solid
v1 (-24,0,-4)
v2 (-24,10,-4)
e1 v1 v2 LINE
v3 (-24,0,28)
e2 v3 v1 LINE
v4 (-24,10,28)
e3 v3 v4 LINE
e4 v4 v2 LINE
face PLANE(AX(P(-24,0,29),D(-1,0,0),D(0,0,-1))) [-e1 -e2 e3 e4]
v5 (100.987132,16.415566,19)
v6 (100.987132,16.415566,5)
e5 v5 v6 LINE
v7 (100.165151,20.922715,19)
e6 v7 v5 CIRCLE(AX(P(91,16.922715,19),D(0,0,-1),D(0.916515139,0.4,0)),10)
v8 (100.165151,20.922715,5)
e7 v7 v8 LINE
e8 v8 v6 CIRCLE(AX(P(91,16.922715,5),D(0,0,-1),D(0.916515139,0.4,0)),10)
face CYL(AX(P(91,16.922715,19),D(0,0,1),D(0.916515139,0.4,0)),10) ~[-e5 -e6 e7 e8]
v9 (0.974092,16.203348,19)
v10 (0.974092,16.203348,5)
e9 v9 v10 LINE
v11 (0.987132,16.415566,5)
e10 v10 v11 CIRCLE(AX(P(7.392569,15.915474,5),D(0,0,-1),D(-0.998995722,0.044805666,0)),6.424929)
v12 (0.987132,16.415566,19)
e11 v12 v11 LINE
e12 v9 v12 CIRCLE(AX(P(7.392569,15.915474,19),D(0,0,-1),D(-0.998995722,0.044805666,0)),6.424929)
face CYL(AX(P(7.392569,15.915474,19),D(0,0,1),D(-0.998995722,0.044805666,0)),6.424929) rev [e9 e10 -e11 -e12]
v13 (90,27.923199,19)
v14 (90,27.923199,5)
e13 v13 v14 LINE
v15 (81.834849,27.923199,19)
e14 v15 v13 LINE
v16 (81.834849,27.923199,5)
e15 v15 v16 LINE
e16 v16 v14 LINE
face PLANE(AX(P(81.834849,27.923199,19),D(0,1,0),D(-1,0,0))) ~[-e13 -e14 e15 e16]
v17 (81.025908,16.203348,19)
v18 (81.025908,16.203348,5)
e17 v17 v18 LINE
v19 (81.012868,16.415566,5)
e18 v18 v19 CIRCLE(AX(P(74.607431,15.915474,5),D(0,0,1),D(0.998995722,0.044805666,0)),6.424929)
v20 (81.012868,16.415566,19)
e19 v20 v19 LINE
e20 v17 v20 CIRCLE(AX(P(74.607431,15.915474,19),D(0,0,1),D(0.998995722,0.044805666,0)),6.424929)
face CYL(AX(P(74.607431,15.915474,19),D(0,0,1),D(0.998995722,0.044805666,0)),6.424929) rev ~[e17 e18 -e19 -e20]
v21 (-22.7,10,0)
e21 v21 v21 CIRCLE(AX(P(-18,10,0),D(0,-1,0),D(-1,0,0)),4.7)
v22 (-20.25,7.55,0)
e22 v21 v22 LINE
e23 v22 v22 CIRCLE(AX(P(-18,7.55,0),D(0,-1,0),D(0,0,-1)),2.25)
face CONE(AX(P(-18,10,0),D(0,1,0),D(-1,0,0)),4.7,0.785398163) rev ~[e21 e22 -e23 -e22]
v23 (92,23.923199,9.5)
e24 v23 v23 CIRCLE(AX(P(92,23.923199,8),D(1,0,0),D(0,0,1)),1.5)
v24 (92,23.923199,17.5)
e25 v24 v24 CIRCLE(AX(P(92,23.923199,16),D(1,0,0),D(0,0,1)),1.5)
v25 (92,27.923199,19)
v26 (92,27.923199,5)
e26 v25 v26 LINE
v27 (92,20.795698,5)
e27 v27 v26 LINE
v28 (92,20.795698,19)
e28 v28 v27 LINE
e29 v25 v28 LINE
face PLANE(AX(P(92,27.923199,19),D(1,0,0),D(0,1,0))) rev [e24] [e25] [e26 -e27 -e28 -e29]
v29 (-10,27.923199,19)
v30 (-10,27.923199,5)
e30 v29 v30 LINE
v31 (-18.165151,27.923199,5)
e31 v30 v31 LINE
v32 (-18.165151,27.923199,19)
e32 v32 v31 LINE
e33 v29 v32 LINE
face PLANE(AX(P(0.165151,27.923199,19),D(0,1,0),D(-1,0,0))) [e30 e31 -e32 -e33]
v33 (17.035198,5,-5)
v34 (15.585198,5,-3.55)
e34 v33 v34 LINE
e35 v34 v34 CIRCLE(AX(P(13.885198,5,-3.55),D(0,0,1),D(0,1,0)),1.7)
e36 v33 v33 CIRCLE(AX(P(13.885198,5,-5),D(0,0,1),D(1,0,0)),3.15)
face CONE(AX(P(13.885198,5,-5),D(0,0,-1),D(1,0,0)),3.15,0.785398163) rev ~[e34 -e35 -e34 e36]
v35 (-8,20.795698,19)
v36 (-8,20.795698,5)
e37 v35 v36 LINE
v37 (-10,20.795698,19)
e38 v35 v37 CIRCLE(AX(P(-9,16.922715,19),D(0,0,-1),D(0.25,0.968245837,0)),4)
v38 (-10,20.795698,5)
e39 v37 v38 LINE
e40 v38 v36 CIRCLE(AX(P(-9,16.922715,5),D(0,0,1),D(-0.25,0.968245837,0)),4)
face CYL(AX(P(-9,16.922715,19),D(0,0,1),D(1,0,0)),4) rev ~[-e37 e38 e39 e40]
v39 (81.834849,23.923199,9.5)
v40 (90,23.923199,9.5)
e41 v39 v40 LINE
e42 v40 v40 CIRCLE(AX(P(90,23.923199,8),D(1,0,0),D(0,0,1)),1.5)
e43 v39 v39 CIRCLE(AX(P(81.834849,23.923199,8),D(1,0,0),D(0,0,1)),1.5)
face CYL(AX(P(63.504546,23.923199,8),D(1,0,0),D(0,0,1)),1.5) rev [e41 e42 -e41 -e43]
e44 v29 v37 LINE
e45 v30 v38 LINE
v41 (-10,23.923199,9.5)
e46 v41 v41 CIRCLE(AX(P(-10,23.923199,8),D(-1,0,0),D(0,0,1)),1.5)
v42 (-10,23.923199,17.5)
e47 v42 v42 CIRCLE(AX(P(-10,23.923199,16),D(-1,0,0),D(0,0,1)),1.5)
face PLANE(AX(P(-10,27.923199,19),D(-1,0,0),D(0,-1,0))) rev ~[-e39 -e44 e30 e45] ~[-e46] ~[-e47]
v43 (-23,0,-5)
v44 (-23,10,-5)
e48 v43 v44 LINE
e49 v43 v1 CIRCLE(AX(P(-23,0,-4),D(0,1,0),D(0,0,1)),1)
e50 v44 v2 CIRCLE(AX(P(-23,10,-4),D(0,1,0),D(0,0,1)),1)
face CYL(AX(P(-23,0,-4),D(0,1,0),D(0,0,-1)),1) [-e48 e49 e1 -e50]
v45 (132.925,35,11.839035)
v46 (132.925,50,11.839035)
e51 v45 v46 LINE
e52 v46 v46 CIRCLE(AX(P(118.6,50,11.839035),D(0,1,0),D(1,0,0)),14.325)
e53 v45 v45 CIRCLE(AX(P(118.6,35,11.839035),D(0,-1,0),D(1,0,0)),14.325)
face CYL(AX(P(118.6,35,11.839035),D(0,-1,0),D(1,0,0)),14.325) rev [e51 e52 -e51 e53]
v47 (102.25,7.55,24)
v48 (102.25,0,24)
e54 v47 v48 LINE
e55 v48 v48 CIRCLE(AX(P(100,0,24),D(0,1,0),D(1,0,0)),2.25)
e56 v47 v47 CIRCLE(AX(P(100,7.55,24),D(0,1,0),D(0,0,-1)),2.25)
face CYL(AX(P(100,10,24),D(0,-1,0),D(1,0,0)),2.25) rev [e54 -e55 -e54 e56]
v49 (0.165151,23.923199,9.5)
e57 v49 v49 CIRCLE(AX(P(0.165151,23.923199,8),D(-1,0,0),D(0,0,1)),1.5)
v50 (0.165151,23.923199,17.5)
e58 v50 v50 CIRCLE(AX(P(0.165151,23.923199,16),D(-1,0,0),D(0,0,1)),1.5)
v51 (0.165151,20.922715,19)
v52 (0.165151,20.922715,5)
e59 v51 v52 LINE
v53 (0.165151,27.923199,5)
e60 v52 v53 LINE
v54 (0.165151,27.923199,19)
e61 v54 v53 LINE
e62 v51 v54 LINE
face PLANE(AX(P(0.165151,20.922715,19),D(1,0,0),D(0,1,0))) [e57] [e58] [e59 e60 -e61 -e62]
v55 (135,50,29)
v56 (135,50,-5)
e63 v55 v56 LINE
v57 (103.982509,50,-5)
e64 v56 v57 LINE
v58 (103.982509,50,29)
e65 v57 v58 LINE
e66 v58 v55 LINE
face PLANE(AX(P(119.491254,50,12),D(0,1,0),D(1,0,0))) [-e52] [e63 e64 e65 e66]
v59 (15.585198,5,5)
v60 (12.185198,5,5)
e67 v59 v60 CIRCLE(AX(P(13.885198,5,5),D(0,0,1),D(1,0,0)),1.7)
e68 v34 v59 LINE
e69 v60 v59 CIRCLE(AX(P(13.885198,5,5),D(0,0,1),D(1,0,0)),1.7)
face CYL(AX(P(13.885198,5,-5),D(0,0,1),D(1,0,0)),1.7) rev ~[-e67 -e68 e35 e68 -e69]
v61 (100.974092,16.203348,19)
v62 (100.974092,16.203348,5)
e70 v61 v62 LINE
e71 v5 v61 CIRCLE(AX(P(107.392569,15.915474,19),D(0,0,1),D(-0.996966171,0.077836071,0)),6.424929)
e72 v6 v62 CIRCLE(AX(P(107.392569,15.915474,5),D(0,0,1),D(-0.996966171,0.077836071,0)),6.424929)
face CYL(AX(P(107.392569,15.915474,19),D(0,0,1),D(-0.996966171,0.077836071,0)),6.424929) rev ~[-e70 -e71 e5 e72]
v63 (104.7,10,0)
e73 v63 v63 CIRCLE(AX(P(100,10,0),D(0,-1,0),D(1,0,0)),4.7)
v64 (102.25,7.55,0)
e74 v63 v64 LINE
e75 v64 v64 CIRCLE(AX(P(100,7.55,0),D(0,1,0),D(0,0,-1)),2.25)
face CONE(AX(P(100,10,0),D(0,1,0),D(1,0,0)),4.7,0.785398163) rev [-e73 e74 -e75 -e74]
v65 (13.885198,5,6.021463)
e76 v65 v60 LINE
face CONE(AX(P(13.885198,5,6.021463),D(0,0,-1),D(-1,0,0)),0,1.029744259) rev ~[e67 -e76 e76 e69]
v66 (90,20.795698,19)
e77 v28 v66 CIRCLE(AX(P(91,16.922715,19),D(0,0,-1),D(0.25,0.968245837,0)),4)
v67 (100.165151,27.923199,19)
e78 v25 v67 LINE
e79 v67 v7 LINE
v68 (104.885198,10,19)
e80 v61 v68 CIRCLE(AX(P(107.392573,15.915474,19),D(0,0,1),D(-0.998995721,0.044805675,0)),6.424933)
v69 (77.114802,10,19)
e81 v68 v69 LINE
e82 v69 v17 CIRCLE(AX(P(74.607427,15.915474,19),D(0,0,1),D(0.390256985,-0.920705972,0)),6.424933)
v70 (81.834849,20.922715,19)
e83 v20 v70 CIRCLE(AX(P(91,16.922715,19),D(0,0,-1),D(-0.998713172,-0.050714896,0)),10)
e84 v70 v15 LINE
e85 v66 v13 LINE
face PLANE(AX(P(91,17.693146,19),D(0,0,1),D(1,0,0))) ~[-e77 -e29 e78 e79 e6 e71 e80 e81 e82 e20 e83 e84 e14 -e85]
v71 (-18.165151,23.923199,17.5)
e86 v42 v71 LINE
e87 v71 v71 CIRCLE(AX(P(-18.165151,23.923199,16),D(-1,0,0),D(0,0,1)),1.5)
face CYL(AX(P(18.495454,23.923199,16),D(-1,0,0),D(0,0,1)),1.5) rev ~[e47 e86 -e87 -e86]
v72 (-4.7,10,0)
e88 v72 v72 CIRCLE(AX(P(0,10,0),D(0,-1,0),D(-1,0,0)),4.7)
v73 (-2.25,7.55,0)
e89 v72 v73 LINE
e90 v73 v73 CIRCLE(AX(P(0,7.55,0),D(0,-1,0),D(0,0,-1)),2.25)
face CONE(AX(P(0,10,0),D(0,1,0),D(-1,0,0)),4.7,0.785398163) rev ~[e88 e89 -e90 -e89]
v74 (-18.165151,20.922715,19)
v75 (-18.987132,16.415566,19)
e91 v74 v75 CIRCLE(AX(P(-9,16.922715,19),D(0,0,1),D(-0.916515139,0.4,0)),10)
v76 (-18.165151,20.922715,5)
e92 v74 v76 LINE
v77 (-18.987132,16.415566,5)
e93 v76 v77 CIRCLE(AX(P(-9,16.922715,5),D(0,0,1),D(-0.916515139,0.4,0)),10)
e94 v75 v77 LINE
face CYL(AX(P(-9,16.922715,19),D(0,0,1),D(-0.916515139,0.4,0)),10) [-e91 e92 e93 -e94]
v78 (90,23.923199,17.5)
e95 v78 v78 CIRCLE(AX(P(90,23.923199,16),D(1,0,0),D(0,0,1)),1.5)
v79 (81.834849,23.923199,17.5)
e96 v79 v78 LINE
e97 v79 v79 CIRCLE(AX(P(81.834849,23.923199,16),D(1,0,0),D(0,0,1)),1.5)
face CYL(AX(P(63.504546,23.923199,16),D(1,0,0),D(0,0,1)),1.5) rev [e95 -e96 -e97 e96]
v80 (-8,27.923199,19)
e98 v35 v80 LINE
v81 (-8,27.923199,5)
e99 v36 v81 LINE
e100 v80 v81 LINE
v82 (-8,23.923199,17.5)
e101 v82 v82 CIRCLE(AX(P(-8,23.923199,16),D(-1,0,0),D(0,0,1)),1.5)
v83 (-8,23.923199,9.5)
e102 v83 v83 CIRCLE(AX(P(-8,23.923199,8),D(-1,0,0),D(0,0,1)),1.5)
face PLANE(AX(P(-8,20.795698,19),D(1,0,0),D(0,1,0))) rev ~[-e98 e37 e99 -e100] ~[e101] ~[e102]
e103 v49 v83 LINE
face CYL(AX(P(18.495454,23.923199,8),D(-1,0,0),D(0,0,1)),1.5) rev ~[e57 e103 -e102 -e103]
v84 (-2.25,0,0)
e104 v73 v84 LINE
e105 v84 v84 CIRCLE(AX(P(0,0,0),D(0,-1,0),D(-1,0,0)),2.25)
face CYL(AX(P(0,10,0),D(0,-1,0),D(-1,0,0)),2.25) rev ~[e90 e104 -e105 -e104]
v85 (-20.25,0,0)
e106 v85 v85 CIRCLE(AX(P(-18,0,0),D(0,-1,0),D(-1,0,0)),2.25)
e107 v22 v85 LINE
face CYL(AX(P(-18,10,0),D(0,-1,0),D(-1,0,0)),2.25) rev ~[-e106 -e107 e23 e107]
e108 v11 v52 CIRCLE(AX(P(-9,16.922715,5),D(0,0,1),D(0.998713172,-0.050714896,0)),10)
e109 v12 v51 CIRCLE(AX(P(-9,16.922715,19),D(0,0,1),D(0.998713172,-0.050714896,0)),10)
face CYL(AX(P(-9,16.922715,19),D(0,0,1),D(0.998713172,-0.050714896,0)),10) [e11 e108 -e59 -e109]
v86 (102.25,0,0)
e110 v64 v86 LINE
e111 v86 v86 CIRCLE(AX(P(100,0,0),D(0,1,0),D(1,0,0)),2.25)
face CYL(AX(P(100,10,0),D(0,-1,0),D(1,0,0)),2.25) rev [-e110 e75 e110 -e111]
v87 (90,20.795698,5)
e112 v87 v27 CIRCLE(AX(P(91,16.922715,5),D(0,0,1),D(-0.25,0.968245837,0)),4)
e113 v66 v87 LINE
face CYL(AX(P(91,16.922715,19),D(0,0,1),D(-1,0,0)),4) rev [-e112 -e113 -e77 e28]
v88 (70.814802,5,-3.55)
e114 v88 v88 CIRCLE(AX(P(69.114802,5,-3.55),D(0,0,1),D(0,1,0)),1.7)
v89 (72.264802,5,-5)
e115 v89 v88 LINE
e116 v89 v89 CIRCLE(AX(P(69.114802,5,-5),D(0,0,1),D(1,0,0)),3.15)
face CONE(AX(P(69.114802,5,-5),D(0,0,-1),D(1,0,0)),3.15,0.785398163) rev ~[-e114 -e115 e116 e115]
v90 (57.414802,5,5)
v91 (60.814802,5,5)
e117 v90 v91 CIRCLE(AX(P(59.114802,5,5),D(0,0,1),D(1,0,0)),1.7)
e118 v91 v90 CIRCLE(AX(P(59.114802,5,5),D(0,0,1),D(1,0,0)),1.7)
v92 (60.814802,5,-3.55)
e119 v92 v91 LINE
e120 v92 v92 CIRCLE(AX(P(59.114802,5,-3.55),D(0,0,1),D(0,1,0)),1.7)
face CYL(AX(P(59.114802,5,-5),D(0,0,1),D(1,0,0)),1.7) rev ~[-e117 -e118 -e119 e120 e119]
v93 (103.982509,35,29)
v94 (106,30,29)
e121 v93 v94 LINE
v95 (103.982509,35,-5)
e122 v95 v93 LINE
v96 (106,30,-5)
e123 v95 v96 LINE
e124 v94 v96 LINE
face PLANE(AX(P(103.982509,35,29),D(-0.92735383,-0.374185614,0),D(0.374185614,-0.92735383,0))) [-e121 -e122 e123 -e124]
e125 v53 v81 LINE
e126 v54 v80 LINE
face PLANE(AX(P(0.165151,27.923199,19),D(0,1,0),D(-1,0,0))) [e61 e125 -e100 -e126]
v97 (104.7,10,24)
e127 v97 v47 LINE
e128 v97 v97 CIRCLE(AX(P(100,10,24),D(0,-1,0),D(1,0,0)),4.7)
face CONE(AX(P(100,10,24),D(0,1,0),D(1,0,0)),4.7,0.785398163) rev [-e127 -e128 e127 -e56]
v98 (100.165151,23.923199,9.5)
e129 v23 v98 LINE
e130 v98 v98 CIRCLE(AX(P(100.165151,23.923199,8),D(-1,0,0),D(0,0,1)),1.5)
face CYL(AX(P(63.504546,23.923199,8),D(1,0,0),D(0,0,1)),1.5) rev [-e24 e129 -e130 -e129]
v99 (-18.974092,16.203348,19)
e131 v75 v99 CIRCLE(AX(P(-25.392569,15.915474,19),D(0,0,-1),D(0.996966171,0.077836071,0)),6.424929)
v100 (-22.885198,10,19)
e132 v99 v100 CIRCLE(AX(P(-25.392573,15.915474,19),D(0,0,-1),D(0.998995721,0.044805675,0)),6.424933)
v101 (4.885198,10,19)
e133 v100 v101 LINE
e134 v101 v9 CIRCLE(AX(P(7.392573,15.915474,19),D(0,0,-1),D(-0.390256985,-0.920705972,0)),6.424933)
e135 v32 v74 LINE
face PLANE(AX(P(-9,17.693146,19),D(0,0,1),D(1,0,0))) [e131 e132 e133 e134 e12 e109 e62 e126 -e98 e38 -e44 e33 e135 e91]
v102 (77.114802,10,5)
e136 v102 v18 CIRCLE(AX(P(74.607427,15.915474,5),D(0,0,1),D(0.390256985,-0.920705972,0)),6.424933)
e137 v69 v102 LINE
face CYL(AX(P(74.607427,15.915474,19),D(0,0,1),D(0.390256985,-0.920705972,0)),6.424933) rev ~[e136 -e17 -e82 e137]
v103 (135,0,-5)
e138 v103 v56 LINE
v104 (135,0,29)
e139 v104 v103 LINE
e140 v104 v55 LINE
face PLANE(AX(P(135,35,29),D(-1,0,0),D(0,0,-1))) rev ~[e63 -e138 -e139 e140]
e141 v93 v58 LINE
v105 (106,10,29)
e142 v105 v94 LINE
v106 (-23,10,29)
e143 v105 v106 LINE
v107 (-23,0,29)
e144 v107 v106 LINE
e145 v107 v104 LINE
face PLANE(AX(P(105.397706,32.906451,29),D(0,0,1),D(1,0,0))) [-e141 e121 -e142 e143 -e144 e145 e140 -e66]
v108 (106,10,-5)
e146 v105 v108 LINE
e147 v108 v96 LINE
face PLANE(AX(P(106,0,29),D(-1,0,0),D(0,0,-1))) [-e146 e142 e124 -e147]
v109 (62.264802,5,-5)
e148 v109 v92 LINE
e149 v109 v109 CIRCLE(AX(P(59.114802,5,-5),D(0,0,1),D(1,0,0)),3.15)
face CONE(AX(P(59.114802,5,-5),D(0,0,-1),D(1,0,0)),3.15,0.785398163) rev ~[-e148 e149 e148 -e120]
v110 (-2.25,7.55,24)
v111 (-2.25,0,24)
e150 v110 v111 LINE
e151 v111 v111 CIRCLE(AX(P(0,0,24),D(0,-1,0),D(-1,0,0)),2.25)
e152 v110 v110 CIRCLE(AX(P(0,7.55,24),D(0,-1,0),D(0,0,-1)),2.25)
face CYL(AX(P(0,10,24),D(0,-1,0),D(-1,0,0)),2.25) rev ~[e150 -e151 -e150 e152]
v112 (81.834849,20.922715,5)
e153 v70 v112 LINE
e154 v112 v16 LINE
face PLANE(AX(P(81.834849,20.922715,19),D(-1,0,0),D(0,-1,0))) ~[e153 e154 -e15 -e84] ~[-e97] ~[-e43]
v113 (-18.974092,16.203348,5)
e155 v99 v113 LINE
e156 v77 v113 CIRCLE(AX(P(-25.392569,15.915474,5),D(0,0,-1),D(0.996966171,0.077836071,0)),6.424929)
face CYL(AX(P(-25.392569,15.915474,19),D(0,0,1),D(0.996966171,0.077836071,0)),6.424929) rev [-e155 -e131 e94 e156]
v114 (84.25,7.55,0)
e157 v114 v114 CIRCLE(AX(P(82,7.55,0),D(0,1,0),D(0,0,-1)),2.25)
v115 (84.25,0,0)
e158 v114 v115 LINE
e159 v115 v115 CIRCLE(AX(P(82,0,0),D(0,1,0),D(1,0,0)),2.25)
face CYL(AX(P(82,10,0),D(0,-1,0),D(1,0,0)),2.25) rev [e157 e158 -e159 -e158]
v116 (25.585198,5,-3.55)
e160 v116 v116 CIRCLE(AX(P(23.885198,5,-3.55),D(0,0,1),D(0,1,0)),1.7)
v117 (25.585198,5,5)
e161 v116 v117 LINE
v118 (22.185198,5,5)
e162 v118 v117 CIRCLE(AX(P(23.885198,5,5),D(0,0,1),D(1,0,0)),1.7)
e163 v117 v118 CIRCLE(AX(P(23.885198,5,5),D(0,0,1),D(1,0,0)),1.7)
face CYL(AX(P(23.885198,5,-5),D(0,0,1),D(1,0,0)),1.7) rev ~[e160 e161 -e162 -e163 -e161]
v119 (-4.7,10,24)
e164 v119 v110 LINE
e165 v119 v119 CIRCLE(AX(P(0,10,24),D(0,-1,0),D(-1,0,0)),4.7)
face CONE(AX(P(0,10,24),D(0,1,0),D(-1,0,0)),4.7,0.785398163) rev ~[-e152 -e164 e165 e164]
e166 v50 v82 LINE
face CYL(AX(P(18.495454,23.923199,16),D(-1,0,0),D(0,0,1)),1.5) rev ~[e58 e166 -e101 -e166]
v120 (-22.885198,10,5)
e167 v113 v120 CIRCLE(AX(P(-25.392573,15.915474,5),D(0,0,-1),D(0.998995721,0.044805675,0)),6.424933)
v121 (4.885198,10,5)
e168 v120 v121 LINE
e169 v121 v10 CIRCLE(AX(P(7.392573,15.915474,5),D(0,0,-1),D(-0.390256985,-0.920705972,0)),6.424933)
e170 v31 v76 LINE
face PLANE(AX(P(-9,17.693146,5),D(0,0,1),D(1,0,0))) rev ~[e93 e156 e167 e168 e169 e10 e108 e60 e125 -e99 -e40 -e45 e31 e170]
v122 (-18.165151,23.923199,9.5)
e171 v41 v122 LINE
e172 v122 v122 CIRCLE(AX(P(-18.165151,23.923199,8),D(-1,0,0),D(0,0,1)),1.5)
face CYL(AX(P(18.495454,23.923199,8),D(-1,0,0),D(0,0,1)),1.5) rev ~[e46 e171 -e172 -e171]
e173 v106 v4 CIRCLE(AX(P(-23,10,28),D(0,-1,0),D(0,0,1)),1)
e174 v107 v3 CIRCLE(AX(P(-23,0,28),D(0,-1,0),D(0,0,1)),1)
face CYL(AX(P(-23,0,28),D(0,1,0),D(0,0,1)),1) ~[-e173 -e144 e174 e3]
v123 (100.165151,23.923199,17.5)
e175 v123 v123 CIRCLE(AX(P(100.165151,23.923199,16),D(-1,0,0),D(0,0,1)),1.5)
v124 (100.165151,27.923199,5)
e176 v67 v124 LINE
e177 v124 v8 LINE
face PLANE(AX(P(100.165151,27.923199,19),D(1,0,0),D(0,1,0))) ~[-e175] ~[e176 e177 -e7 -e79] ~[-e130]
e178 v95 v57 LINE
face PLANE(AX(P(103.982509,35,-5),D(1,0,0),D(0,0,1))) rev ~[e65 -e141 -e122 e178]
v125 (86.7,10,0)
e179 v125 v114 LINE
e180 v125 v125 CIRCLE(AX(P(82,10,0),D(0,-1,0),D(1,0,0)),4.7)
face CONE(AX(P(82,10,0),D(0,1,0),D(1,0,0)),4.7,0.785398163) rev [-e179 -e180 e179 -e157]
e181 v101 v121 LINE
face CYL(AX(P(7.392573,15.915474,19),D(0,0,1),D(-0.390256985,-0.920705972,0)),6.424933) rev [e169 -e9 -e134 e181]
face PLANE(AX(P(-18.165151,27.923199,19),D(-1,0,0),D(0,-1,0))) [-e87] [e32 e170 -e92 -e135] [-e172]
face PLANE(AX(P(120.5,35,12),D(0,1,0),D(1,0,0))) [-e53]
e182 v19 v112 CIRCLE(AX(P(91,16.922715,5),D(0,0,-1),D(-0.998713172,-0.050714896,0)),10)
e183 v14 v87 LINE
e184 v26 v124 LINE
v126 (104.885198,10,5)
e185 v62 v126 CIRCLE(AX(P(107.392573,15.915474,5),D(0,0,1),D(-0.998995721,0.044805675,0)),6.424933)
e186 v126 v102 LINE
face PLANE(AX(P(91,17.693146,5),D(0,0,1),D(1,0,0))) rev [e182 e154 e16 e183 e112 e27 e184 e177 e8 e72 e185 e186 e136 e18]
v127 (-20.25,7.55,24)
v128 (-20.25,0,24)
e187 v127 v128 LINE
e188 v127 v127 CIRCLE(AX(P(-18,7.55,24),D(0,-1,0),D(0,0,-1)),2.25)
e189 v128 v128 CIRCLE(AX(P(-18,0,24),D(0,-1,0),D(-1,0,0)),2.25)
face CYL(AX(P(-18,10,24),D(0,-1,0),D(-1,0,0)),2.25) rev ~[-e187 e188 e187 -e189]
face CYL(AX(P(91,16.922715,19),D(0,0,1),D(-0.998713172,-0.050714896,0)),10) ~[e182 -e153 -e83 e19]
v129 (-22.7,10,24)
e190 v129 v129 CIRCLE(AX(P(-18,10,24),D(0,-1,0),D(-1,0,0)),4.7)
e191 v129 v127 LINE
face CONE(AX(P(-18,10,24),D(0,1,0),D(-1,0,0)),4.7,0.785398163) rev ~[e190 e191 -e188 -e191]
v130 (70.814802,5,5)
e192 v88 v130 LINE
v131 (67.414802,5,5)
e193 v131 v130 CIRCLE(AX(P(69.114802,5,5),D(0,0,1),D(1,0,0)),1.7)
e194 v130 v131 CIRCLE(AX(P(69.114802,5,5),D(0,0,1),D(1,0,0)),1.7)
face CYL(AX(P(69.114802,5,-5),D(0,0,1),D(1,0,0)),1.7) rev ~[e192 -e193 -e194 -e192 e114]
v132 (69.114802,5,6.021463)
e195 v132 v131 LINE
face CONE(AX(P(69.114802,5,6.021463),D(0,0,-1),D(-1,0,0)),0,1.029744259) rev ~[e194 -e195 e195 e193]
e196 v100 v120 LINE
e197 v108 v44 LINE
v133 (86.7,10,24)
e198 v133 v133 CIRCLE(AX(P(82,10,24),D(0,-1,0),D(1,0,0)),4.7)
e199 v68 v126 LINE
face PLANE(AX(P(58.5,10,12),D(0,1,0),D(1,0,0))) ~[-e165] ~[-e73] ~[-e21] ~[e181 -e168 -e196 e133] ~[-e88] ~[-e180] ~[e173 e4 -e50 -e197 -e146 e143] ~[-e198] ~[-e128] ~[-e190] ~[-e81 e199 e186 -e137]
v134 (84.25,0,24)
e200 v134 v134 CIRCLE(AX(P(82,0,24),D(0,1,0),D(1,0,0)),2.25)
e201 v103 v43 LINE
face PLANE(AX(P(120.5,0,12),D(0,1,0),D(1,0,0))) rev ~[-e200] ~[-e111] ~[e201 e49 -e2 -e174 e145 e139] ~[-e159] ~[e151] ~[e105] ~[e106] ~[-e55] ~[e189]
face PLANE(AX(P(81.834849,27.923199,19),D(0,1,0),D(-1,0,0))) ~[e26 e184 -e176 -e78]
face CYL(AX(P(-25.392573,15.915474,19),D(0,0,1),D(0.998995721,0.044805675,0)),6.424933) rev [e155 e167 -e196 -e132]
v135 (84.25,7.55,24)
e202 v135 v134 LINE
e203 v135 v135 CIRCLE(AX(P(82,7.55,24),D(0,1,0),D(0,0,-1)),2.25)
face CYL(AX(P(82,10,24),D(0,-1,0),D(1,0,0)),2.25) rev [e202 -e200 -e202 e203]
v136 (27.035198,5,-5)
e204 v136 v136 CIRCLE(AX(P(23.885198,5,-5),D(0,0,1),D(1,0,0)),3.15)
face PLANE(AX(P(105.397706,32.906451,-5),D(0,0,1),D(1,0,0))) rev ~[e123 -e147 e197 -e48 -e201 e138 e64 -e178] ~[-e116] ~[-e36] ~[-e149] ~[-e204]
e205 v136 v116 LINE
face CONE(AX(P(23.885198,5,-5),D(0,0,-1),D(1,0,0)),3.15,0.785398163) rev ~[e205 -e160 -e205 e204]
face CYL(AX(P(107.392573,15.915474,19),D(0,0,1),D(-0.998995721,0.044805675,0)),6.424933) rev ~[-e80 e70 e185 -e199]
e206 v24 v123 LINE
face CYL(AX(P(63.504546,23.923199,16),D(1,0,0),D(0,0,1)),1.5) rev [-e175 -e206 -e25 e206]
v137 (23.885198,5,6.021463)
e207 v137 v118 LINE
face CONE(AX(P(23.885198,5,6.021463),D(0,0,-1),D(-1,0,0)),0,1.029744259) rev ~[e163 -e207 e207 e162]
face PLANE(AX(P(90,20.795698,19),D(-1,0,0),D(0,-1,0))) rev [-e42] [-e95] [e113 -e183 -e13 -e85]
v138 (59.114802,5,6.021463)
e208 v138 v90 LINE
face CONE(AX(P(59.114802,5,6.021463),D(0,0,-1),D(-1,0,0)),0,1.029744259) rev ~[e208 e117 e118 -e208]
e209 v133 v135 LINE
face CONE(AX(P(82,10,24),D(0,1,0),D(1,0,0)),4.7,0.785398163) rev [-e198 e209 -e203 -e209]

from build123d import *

# Parameters (mm, degrees)
SKETCH2_W                                       = 35
SKETCH2_H                                       = 34
SKETCH2_W_2                                     = 30
SKETCH2_R                                       = 2
BOSS_EXTRUDE1_DEPTH                             = 10
FILLET1_R                                       = 1
CSK_FOR_M4_FLAT_HEAD_MACHINE_SCREW1_D           = 4.5
CSK_FOR_M4_FLAT_HEAD_MACHINE_SCREW1_DEPTH       = 10
CSK_FOR_M4_FLAT_HEAD_MACHINE_SCREW1_CSINK_D     = 9.4
CSK_FOR_M4_FLAT_HEAD_MACHINE_SCREW1_CSINK_ANGLE = 90
SKETCH3_R                                       = 4
BOSS_EXTRUDE2_DEPTH                             = 14
F_3_0MM_DOWEL_HOLE1_D                           = 3
F_3_0MM_DOWEL_HOLE1_DEPTH                       = 18.33030278
CUT_EXTRUDE1_DEPTH                              = 25
CSK_FOR_M3_FLAT_HEAD_MACHINE_SCREW1_D           = 3.4
CSK_FOR_M3_FLAT_HEAD_MACHINE_SCREW1_DEPTH       = 10
CSK_FOR_M3_FLAT_HEAD_MACHINE_SCREW1_CSINK_D     = 6.3
CSK_FOR_M3_FLAT_HEAD_MACHINE_SCREW1_CSINK_ANGLE = 90
CSK_FOR_M3_FLAT_HEAD_MACHINE_SCREW1_TIP         = 1.021463052
SKETCH15_W                                      = 29
SKETCH15_H                                      = 34
BOSS_EXTRUDE3_DEPTH                             = 35
SKETCH16_R                                      = 14.325
BOSS_EXTRUDE4_DEPTH                             = 15
BOSS_EXTRUDE5_DEPTH                             = 34


with BuildPart() as part:
    # Sketch2 → Boss-Extrude1 (new body)
    with BuildSketch(Plane(origin=(0, 0, 0), x_dir=(1, 0, 0), z_dir=(0, 1, 0))):
        with Locations((23.5, -12)):
            Rectangle(SKETCH2_W, SKETCH2_H)
        with Locations((-9, -12)):
            Rectangle(SKETCH2_W_2, SKETCH2_H)
        with Locations((0, -24)):
            Circle(SKETCH2_R, mode=Mode.SUBTRACT)
        with Locations((-18, -24)):
            Circle(SKETCH2_R, mode=Mode.SUBTRACT)
        with Locations((-18, 0)):
            Circle(SKETCH2_R, mode=Mode.SUBTRACT)
        Circle(SKETCH2_R, mode=Mode.SUBTRACT)
    boss_extrude1 = extrude(amount=BOSS_EXTRUDE1_DEPTH)

    # Fillet1
    fillet1_edges = [part.edges().sort_by_distance(p)[0] for p in [
        (-24, 5, 29),
        (-24, 5, -5),
    ]]
    fillet(fillet1_edges, radius=FILLET1_R)

    # CSK for M4 Flat Head Machine Screw1
    with Locations(Plane(origin=(0, 10, 0), x_dir=(1, 0, 0), z_dir=(0, 1, 0))):
        with Locations((-18, 0), (0, 0), (0, -24), (-18, -24)):
            csk_for_m4_flat_head_machine_screw1 = CounterSinkHole(CSK_FOR_M4_FLAT_HEAD_MACHINE_SCREW1_D / 2, CSK_FOR_M4_FLAT_HEAD_MACHINE_SCREW1_CSINK_D / 2, depth=CSK_FOR_M4_FLAT_HEAD_MACHINE_SCREW1_DEPTH, counter_sink_angle=CSK_FOR_M4_FLAT_HEAD_MACHINE_SCREW1_CSINK_ANGLE)

    # Sketch3 → Boss-Extrude2 (add)
    with BuildSketch(Plane.XY.offset(19)):
        with BuildLine():
            ThreePointArc((-18.974091996, 16.203347698), (-19.957675635, 12.488863747), (-22.885197632, 10))
            Line((-22.885197632, 10), (4.885197632, 10))
            ThreePointArc((4.885197632, 10), (1.957675635, 12.488863747), (0.974091996, 16.203347698))
            ThreePointArc((0.974091996, 16.203347698), (0.979733938, 16.309510649), (0.987131717, 16.415565714))
            ThreePointArc((0.987131717, 16.415565714), (0.837737799, 18.716848177), (0.16515139, 20.922714683))
            Line((0.16515139, 20.922714683), (0.16515139, 27.923199435))
            Line((0.16515139, 27.923199435), (-18.16515139, 27.923199435))
            Line((-18.16515139, 27.923199435), (-18.16515139, 20.922714683))
            ThreePointArc((-18.16515139, 20.922714683), (-18.837737799, 18.716848177), (-18.987131717, 16.415565714))
            ThreePointArc((-18.987131717, 16.415565714), (-18.979733938, 16.309510649), (-18.974091996, 16.203347698))
        make_face()
        with Locations((-9, 16.922714683)):
            Circle(SKETCH3_R, mode=Mode.SUBTRACT)
    boss_extrude2 = extrude(amount=-BOSS_EXTRUDE2_DEPTH)

    # Ø3.0mm Dowel Hole1
    with Locations(Plane(origin=(0.16515139, 0, 0), x_dir=(0, 0, -1), z_dir=(1, 0, 0))):
        with Locations((-16, 23.923199435), (-8, 23.923199435)):
            f_3_0mm_dowel_hole1 = Hole(F_3_0MM_DOWEL_HOLE1_D / 2, depth=F_3_0MM_DOWEL_HOLE1_DEPTH)

    # Sketch10 → Cut-Extrude1 (cut, through all)
    with BuildSketch(Plane.XY.offset(19)):
        with BuildLine():
            Line((-9, 27.923199435), (-10, 27.923199435))
            Line((-10, 27.923199435), (-10, 20.795698029))
            ThreePointArc((-10, 20.795698029), (-9.50401717, 20.890833468), (-9, 20.922714683))
            Line((-9, 20.922714683), (-9, 27.923199435))
        make_face()
        with BuildLine():
            Line((-8, 27.923199435), (-9, 27.923199435))
            Line((-9, 27.923199435), (-9, 20.922714683))
            ThreePointArc((-9, 20.922714683), (-8.49598283, 20.890833468), (-8, 20.795698029))
            Line((-8, 20.795698029), (-8, 27.923199435))
        make_face()
    cut_extrude1 = extrude(amount=-CUT_EXTRUDE1_DEPTH, mode=Mode.SUBTRACT)

    # Mirror11: Boss-Extrude1, CSK for M4 Flat Head Machine Screw1, Boss-Extrude2, Ø3.0mm Dowel Hole1, Cut-Extrude1 across plane
    add(boss_extrude1.mirror(Plane(origin=(41, 10, 0), x_dir=(0, 0, 1), z_dir=(1, 0, 0))))
    add(csk_for_m4_flat_head_machine_screw1.mirror(Plane(origin=(41, 10, 0), x_dir=(0, 0, 1), z_dir=(1, 0, 0))), mode=Mode.SUBTRACT)
    add(boss_extrude2.mirror(Plane(origin=(41, 10, 0), x_dir=(0, 0, 1), z_dir=(1, 0, 0))))
    add(f_3_0mm_dowel_hole1.mirror(Plane(origin=(41, 10, 0), x_dir=(0, 0, 1), z_dir=(1, 0, 0))), mode=Mode.SUBTRACT)
    add(cut_extrude1.mirror(Plane(origin=(41, 10, 0), x_dir=(0, 0, 1), z_dir=(1, 0, 0))), mode=Mode.SUBTRACT)

    # CSK for M3 Flat Head Machine Screw1
    with Locations(Plane(origin=(0, 0, -5), x_dir=(-1, 0, 0), z_dir=(0, 0, -1))):
        with Locations((-69.114802368, 5), (-59.114802368, 5), (-13.885197632, 5), (-23.885197632, 5)):
            CounterSinkHole(CSK_FOR_M3_FLAT_HEAD_MACHINE_SCREW1_D / 2, CSK_FOR_M3_FLAT_HEAD_MACHINE_SCREW1_CSINK_D / 2, depth=CSK_FOR_M3_FLAT_HEAD_MACHINE_SCREW1_DEPTH, counter_sink_angle=CSK_FOR_M3_FLAT_HEAD_MACHINE_SCREW1_CSINK_ANGLE)
            with Locations((0, 0, -(CSK_FOR_M3_FLAT_HEAD_MACHINE_SCREW1_DEPTH + CSK_FOR_M3_FLAT_HEAD_MACHINE_SCREW1_TIP / 2))):  # 118° drill point
                Cone(0, CSK_FOR_M3_FLAT_HEAD_MACHINE_SCREW1_D / 2, CSK_FOR_M3_FLAT_HEAD_MACHINE_SCREW1_TIP, mode=Mode.SUBTRACT)

    # Sketch15 → Boss-Extrude3 (add)
    with BuildSketch(Plane(origin=(0, 0, 0), x_dir=(1, 0, 0), z_dir=(0, 1, 0))):
        with Locations((120.5, -12)):
            Rectangle(SKETCH15_W, SKETCH15_H)
    extrude(amount=BOSS_EXTRUDE3_DEPTH)

    # Sketch16 → Boss-Extrude4 (add)
    with BuildSketch(Plane(origin=(0, 35, 0), x_dir=(1, 0, 0), z_dir=(0, 1, 0))):
        Polygon((103.982508934, -29), (135, -29), (135, 5), (103.982508934, 5), (103.982508934, -11.839034668), align=None)
        with Locations((118.6, -11.839034668)):
            Circle(SKETCH16_R, mode=Mode.SUBTRACT)
    extrude(amount=BOSS_EXTRUDE4_DEPTH)

    # Sketch17 → Boss-Extrude5 (add)
    with BuildSketch(Plane.XY.offset(29)):
        Polygon((103.982508934, 35), (106, 30), (106, 35), align=None)
    extrude(amount=-BOSS_EXTRUDE5_DEPTH)


solid = part.part
